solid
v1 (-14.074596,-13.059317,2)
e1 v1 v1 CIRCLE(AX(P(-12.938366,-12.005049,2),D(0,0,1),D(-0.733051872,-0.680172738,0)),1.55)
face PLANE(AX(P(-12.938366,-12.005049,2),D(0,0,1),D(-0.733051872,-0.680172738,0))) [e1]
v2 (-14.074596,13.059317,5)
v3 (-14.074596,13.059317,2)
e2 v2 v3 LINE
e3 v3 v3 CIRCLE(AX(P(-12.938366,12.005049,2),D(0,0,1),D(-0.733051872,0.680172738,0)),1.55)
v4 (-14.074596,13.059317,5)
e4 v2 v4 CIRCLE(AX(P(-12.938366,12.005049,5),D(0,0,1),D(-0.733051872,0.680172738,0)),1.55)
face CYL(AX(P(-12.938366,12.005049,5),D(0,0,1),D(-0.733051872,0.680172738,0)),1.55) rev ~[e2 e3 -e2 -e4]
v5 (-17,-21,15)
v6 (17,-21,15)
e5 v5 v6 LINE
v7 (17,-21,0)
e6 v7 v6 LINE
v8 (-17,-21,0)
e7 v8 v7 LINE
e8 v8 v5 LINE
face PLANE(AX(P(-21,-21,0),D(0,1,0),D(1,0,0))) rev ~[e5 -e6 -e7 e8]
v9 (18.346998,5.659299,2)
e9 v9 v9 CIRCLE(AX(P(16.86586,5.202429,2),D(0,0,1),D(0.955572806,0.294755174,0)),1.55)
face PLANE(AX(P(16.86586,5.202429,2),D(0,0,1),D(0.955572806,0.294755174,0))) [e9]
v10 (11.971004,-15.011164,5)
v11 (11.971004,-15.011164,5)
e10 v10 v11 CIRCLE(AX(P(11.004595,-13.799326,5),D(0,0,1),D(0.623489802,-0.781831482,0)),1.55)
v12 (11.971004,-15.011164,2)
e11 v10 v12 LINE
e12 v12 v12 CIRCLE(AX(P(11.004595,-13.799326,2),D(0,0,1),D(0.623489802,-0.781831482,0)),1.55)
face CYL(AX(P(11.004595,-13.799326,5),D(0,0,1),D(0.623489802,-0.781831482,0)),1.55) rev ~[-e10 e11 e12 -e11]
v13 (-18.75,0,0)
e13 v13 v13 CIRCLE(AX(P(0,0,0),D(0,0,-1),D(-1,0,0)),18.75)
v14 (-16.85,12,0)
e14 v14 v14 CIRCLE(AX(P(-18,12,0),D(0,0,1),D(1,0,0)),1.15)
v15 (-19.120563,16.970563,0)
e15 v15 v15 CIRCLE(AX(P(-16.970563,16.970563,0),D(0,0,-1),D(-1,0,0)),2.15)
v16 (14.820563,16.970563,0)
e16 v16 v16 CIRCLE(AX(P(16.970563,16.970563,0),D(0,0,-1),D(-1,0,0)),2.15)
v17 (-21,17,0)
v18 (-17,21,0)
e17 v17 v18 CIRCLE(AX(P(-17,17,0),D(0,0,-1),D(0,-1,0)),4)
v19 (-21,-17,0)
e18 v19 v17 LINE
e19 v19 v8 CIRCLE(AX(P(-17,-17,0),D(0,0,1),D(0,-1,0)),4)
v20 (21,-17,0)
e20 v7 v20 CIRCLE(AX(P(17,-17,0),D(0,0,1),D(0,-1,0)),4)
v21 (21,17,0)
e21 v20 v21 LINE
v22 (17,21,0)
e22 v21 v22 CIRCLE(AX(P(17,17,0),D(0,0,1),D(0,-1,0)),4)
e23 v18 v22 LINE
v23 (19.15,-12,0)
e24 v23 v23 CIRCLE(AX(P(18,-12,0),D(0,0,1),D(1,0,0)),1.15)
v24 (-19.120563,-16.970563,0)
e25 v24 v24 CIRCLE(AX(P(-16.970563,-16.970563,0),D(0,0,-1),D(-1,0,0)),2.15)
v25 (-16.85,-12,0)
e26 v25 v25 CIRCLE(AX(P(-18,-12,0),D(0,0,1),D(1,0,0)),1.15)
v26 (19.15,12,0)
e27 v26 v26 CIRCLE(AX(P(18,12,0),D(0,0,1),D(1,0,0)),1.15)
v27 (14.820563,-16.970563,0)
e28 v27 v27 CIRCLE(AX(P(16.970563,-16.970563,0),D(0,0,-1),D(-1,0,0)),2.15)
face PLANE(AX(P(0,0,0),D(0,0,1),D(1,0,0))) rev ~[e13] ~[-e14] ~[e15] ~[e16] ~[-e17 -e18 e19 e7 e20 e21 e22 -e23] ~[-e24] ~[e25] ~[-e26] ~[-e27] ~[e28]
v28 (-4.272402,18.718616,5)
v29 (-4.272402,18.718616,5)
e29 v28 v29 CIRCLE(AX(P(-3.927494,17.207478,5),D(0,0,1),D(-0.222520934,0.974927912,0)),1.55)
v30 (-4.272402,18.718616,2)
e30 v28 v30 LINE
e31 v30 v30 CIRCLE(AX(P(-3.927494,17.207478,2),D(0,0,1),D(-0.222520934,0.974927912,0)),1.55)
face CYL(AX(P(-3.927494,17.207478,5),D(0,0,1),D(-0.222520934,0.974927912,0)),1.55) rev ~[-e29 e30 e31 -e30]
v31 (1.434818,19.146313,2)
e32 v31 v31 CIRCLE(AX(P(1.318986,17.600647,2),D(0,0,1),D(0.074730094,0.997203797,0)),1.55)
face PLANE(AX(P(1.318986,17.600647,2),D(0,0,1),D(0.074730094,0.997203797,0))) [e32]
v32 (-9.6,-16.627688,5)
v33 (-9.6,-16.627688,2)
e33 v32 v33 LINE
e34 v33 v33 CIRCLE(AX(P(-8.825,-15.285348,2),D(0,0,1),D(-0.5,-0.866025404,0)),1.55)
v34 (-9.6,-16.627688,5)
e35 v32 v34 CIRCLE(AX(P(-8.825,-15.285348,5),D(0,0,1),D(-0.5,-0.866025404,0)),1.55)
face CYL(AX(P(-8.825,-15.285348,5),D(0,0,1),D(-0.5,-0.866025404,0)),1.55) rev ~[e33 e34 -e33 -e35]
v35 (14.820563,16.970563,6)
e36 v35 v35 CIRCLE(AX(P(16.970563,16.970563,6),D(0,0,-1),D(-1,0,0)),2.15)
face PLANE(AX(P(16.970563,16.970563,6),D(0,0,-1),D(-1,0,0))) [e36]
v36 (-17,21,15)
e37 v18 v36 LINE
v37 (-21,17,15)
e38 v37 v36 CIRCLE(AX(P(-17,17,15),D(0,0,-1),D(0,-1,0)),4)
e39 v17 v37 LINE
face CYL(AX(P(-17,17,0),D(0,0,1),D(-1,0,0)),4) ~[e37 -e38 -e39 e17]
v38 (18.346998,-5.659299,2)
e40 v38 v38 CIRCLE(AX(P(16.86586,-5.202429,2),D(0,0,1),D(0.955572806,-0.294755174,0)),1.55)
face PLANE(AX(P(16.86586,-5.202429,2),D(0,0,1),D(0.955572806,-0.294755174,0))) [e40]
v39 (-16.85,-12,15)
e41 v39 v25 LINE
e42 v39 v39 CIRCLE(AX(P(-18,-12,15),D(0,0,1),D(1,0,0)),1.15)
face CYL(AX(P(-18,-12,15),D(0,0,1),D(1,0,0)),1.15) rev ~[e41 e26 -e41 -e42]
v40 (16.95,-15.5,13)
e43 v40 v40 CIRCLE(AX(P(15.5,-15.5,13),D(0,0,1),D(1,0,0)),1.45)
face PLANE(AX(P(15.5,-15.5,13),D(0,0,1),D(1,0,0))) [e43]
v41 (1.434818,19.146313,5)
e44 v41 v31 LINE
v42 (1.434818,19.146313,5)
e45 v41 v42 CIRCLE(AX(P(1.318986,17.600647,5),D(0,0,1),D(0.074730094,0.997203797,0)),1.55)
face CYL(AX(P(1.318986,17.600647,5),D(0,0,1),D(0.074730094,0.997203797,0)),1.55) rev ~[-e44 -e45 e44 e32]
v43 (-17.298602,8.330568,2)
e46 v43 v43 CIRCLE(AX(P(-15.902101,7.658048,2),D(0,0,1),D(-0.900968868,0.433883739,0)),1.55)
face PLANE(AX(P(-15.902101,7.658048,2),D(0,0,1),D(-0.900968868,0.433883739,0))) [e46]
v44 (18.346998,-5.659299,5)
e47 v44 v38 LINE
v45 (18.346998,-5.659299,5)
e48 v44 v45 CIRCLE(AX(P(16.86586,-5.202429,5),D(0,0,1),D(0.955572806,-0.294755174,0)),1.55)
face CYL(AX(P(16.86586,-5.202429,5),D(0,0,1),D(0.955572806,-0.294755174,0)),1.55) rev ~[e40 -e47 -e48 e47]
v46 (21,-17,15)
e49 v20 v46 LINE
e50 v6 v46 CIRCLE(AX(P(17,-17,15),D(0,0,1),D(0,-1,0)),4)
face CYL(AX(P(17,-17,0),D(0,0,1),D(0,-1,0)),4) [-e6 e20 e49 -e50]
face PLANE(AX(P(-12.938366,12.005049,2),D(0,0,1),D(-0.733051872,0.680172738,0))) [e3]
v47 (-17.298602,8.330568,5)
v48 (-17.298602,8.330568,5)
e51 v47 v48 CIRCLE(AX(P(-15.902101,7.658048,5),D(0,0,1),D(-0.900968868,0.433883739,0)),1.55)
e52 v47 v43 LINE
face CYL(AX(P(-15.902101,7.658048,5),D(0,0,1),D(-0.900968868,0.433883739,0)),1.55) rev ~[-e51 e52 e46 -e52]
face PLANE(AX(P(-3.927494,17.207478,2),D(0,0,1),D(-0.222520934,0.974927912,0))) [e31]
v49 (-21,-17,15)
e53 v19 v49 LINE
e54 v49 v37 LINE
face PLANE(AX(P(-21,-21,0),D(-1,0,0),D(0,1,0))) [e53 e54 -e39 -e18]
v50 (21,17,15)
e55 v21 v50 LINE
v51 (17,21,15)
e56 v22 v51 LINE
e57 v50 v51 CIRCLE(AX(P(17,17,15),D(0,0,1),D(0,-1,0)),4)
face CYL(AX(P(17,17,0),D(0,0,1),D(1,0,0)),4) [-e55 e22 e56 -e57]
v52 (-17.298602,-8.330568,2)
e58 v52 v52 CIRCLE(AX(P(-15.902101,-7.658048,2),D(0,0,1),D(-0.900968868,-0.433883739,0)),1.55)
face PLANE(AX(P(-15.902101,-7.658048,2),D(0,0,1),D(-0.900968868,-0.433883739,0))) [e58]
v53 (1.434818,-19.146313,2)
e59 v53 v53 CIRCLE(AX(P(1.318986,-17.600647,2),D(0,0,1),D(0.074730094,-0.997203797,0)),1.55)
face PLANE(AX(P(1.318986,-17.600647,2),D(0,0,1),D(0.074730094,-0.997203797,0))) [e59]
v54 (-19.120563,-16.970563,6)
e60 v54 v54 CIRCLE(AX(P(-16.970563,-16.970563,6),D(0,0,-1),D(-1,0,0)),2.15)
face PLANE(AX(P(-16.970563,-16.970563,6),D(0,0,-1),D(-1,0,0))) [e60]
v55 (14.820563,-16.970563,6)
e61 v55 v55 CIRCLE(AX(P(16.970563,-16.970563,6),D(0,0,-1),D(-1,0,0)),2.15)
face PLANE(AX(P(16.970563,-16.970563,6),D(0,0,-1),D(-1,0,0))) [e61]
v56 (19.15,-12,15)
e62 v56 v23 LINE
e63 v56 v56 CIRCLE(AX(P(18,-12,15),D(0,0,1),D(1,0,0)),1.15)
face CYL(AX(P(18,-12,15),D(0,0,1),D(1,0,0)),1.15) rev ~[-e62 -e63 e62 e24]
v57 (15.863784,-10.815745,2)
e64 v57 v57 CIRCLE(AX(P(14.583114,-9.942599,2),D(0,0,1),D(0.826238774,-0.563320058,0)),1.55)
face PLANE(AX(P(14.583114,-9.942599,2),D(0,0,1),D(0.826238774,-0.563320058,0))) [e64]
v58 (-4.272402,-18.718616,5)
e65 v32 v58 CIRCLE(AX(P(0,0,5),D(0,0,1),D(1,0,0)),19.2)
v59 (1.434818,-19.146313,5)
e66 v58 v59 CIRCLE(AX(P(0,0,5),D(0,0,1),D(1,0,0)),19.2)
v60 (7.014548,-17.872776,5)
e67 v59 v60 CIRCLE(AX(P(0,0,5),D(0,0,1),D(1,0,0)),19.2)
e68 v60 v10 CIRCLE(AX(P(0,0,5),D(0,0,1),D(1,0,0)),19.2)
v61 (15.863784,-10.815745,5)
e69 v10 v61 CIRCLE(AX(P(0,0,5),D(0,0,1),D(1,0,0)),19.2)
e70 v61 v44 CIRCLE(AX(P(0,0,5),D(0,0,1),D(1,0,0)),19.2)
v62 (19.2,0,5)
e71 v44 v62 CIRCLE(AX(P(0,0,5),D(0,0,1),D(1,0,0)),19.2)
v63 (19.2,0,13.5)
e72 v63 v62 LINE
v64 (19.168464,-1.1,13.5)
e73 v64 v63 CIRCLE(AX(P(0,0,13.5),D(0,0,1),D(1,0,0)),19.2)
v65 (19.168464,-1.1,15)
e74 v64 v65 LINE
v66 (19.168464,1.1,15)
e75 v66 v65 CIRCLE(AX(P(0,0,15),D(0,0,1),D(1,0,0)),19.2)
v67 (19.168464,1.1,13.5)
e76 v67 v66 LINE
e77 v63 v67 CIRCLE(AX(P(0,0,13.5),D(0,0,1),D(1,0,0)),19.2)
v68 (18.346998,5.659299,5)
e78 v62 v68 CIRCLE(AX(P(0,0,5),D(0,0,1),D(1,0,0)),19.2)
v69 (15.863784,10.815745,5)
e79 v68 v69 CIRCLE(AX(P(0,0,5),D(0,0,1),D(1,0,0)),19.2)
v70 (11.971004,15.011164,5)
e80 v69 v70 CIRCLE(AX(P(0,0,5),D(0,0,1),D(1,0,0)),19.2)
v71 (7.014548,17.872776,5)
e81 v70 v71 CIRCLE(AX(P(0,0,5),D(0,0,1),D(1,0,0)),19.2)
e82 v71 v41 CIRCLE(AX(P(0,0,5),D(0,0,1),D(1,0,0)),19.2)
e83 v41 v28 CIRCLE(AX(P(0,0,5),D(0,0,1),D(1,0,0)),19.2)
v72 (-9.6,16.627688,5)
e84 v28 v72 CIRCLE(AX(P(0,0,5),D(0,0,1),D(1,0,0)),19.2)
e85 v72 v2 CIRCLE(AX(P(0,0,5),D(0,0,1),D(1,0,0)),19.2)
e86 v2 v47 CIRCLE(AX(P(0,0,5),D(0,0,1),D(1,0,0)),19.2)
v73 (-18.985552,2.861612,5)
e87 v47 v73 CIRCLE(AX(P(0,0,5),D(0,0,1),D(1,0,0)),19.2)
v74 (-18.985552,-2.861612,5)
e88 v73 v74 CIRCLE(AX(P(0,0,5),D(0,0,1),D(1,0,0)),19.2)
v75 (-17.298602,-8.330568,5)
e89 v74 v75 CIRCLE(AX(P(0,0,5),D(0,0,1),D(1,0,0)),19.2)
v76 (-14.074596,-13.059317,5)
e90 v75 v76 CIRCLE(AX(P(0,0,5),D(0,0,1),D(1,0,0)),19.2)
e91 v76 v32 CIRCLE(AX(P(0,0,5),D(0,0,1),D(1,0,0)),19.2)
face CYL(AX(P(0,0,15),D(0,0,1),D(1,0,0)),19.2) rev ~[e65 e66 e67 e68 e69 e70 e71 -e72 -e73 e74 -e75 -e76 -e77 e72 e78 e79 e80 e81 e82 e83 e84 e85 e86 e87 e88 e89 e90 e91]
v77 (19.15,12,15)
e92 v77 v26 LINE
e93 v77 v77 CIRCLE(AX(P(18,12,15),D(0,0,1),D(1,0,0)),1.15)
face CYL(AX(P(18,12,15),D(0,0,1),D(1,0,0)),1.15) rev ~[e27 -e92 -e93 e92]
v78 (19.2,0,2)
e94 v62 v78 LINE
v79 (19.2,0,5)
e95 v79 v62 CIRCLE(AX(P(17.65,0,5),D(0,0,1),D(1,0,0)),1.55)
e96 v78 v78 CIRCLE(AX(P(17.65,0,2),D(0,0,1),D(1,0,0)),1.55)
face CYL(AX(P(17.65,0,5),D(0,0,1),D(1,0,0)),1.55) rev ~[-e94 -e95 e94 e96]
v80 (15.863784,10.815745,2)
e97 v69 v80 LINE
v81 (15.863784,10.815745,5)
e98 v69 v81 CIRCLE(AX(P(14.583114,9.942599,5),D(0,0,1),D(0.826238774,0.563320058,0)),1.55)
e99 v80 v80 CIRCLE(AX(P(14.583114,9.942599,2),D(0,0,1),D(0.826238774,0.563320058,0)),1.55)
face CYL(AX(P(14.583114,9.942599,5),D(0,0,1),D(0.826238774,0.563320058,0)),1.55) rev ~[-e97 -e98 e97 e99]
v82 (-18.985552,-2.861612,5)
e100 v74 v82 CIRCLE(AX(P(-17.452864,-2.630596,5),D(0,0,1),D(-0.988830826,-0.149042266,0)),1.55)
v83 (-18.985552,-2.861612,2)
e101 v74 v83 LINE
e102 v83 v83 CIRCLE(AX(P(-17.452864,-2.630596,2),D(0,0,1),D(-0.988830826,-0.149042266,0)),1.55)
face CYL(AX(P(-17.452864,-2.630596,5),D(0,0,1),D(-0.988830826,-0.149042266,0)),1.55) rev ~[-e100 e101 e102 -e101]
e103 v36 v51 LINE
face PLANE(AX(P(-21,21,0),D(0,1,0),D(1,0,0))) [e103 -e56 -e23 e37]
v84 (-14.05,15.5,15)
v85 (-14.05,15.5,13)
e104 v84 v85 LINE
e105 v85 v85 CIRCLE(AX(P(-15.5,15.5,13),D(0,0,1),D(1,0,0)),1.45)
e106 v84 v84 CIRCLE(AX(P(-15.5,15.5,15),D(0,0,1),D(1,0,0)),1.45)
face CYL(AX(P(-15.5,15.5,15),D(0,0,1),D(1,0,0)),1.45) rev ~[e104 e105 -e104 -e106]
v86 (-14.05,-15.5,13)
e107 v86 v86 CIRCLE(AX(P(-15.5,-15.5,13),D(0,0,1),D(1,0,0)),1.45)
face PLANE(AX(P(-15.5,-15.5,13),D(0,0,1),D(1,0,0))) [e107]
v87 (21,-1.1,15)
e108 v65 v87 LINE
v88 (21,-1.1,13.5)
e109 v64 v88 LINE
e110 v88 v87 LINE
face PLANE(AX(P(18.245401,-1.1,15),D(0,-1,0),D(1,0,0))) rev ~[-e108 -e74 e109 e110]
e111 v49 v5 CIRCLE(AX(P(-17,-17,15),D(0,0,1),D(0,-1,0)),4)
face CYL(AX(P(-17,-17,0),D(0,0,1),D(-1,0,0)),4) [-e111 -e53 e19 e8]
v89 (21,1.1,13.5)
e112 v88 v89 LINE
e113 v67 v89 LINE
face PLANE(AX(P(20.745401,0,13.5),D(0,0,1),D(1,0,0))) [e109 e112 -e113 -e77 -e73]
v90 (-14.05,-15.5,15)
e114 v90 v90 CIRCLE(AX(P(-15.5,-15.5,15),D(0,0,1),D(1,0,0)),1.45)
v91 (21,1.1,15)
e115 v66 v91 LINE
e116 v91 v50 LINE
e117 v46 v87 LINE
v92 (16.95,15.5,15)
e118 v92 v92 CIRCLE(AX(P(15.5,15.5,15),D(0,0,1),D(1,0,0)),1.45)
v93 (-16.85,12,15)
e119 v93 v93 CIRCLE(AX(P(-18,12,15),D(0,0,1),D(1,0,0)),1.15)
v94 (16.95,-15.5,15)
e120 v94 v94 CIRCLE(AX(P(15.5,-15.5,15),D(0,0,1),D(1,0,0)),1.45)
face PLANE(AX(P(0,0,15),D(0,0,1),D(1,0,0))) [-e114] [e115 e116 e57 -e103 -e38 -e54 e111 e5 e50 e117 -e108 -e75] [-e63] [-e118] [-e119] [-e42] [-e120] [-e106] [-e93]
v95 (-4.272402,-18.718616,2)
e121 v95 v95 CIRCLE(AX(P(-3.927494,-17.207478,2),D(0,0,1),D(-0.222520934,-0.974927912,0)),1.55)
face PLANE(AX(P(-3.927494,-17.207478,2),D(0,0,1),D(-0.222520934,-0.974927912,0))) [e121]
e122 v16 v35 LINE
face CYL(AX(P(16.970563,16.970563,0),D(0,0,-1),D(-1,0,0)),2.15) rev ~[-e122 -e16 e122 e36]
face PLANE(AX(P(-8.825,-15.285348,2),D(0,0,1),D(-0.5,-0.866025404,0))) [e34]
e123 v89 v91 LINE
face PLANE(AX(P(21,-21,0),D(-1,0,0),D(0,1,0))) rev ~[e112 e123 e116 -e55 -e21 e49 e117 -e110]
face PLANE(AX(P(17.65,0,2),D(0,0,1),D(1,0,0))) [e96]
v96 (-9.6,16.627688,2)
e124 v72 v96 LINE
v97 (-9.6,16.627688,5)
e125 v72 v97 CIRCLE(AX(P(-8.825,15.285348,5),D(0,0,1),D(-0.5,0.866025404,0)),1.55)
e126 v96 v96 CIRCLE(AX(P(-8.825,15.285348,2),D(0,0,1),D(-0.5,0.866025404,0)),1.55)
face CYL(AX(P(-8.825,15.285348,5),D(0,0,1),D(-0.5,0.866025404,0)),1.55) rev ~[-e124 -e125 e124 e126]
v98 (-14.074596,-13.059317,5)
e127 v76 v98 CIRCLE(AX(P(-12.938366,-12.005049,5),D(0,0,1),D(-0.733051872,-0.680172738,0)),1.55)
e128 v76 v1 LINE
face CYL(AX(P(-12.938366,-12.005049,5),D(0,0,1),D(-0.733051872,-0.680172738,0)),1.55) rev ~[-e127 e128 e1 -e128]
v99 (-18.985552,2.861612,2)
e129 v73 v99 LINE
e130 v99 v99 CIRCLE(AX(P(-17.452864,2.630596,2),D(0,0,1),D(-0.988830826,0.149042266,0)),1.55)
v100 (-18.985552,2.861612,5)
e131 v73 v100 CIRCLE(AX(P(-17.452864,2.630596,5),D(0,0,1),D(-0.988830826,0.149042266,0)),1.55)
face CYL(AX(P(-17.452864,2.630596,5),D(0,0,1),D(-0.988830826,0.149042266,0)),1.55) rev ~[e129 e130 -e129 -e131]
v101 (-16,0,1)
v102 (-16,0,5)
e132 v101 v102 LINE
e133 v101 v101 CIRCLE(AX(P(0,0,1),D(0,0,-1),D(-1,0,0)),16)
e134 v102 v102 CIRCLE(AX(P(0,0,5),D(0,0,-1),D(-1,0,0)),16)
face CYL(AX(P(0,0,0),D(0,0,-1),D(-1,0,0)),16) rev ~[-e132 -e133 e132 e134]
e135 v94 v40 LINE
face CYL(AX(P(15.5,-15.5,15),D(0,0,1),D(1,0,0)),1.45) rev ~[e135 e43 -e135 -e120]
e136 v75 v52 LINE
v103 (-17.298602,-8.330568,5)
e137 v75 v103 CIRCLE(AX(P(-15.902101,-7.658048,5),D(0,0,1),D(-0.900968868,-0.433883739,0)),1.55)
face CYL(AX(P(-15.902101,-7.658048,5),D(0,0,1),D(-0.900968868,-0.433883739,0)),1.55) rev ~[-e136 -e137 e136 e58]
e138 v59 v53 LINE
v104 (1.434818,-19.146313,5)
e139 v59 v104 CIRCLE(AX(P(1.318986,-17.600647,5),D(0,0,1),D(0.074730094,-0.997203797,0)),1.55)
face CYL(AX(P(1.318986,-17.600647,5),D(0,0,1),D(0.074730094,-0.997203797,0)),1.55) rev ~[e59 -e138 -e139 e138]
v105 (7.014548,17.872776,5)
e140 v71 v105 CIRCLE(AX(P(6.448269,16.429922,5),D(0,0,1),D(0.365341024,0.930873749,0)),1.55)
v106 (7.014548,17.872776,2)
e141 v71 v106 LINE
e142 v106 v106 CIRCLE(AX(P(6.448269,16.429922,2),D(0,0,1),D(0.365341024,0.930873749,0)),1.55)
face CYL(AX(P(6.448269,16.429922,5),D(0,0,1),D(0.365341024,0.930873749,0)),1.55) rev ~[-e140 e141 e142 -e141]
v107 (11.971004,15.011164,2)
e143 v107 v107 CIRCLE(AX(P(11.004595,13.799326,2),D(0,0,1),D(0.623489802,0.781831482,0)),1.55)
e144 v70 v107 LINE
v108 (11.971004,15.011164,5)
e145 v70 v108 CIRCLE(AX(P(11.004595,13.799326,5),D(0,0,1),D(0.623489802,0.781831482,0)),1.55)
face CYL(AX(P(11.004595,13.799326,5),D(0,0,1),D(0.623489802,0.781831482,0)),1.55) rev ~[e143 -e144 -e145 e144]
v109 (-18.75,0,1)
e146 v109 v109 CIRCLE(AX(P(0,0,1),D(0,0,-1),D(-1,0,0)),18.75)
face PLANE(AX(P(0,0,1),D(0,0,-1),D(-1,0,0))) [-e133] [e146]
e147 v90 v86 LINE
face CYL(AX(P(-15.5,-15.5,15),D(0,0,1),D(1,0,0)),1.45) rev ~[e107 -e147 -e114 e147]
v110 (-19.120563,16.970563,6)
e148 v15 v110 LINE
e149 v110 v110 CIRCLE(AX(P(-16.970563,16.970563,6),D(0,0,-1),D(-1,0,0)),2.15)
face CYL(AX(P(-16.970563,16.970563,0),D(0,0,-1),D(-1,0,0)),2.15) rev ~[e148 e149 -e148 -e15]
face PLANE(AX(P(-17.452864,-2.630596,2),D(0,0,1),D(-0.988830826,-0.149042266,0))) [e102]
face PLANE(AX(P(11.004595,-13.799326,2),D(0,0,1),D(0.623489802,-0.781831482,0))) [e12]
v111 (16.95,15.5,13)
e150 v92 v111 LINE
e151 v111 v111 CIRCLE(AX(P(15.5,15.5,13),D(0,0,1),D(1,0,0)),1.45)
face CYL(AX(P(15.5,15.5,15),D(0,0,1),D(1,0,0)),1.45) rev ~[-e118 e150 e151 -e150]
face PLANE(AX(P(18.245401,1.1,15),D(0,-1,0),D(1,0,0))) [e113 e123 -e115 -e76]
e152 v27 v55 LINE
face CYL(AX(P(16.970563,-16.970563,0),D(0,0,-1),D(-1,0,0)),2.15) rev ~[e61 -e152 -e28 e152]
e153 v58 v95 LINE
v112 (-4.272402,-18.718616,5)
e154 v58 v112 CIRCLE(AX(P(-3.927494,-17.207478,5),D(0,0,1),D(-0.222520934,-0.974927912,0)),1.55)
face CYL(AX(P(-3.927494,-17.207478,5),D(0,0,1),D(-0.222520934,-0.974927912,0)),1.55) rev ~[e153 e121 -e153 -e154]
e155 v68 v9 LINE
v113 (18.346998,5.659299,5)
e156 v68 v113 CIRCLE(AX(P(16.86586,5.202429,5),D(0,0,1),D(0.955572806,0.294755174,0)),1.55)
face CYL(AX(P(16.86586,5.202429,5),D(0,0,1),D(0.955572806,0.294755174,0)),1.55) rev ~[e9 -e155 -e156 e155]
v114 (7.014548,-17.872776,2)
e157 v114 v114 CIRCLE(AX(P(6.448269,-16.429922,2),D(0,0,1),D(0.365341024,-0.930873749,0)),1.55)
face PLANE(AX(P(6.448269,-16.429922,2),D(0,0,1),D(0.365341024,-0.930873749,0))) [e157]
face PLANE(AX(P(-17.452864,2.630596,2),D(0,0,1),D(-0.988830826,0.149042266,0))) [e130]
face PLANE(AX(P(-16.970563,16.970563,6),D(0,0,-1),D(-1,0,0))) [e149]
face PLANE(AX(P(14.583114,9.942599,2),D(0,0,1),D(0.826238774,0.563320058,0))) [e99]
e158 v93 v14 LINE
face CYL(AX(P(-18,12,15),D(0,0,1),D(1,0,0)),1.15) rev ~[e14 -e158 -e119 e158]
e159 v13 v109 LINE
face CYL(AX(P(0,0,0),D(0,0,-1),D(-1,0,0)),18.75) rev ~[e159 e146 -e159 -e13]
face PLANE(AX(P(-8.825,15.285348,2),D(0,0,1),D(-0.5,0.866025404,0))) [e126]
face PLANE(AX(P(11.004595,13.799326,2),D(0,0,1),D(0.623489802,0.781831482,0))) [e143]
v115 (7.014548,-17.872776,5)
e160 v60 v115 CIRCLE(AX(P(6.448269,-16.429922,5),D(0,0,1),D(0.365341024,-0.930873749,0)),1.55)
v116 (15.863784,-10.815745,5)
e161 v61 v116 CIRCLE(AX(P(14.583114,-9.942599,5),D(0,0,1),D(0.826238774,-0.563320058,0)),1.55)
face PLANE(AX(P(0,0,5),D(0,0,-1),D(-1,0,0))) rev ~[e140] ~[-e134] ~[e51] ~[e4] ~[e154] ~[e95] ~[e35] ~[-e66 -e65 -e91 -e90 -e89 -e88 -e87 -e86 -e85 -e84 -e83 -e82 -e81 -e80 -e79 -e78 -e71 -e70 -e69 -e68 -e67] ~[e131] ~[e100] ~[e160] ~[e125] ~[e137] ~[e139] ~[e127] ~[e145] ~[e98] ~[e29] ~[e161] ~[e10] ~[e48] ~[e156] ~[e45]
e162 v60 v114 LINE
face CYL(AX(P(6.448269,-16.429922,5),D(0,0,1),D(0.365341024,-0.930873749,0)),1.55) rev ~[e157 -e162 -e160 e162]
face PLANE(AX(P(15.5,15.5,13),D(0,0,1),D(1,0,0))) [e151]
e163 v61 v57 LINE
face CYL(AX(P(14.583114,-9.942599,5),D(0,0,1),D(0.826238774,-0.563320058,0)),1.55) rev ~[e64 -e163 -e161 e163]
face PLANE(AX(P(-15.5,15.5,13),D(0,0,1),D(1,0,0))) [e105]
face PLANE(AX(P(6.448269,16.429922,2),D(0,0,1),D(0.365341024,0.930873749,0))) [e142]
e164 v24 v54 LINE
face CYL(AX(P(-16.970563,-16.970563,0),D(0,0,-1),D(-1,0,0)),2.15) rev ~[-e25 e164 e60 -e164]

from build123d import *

# Parameters (mm, degrees)
SKETCH_1_W               = 42
SKETCH_1_H               = 42
EXTRUDE_1_DEPTH          = 15
FILLET_2_R               = 4
SKETCH_25_R              = 1.15
CUT_EXTRUDE_16_DEPTH     = 16
SKETCH_28_R              = 1.45
CUT_EXTRUDE_17_DEPTH     = 2
SKETCH_29_R              = 2.15
CUT_EXTRUDE_18_DEPTH     = 6
SKETCH_30_R              = 19.2
CUT_EXTRUDE_19_DEPTH     = 16
SKETCH_31_R              = 19.35
SKETCH_31_R_2            = 16
EXTRUDE_2_DEPTH          = 5
SKETCH_32_R              = 1.55
CUT_EXTRUDE_22_DEPTH     = 3
PATTERN_CIRCULAR_1_COUNT = 21
SKETCH_33_R              = 18.75
CUT_EXTRUDE_23_DEPTH     = 1
SKETCH_34_W              = 5
SKETCH_34_H              = 2.2
CUT_EXTRUDE_24_DEPTH     = 1.5


with BuildPart() as part:
    # 草图1 → 凸台-拉伸1 (new body)
    with BuildSketch(Plane.XY):
        Rectangle(SKETCH_1_W, SKETCH_1_H)
    extrude(amount=EXTRUDE_1_DEPTH)

    # 圆角2
    fillet_2_edges = [part.edges().sort_by_distance(p)[0] for p in [
        (21, 21, 7.5),
        (21, -21, 7.5),
        (-21, -21, 7.5),
        (-21, 21, 7.5),
    ]]
    fillet(fillet_2_edges, radius=FILLET_2_R)

    # 草图25 → 切除-拉伸16 (cut, through all)
    with BuildSketch(Plane.XY.offset(15)):
        with Locations((-18, 12)):
            Circle(SKETCH_25_R)
        with Locations((18, 12)):
            Circle(SKETCH_25_R)
        with Locations((18, -12)):
            Circle(SKETCH_25_R)
        with Locations((-18, -12)):
            Circle(SKETCH_25_R)
    extrude(amount=-CUT_EXTRUDE_16_DEPTH, mode=Mode.SUBTRACT)

    # 草图28 → 切除-拉伸17 (cut)
    with BuildSketch(Plane.XY.offset(15)):
        with Locations((-15.5, 15.5)):
            Circle(SKETCH_28_R)
        with Locations((15.5, 15.5)):
            Circle(SKETCH_28_R)
        with Locations((15.5, -15.5)):
            Circle(SKETCH_28_R)
        with Locations((-15.5, -15.5)):
            Circle(SKETCH_28_R)
    extrude(amount=-CUT_EXTRUDE_17_DEPTH, mode=Mode.SUBTRACT)

    # 草图29 → 切除-拉伸18 (cut)
    with BuildSketch(Plane(origin=(0, 0, 0), x_dir=(-1, 0, 0), z_dir=(0, 0, -1))):
        with Locations((-16.970562748, 16.970562748)):
            Circle(SKETCH_29_R)
        with Locations((16.970562748, 16.970562748)):
            Circle(SKETCH_29_R)
        with Locations((16.970562748, -16.970562748)):
            Circle(SKETCH_29_R)
        with Locations((-16.970562748, -16.970562748)):
            Circle(SKETCH_29_R)
    extrude(amount=-CUT_EXTRUDE_18_DEPTH, mode=Mode.SUBTRACT)

    # 草图30 → 切除-拉伸19 (cut, through all)
    with BuildSketch(Plane.XY.offset(15)):
        Circle(SKETCH_30_R)
    extrude(amount=-CUT_EXTRUDE_19_DEPTH, mode=Mode.SUBTRACT)

    # 草图31 → 凸台-拉伸2 (add)
    with BuildSketch(Plane(origin=(0, 0, 0), x_dir=(-1, 0, 0), z_dir=(0, 0, -1))):
        Circle(SKETCH_31_R)
        Circle(SKETCH_31_R_2, mode=Mode.SUBTRACT)
    extrude(amount=-EXTRUDE_2_DEPTH)

    # 草图32 → 切除-拉伸22 (cut)
    with BuildSketch(Plane.XY.offset(5)):
        with Locations((17.65, 0)):
            Circle(SKETCH_32_R)
    cut_extrude_22 = extrude(amount=-CUT_EXTRUDE_22_DEPTH, mode=Mode.SUBTRACT)

    # 阵列(圆周)1: 切除-拉伸22 ×21 about axis
    pattern_circular_1_axis = Axis((0, 0, 0), (0, 0, 1))
    for i in range(1, PATTERN_CIRCULAR_1_COUNT):
        add(cut_extrude_22.rotate(pattern_circular_1_axis, i * 360 / PATTERN_CIRCULAR_1_COUNT), mode=Mode.SUBTRACT)

    # 草图33 → 切除-拉伸23 (cut)
    with BuildSketch(Plane(origin=(0, 0, 0), x_dir=(-1, 0, 0), z_dir=(0, 0, -1))):
        Circle(SKETCH_33_R)
    extrude(amount=-CUT_EXTRUDE_23_DEPTH, mode=Mode.SUBTRACT)

    # 草图34 → 切除-拉伸24 (cut)
    with BuildSketch(Plane.XY.offset(15)):
        with Locations((20.745401418, 0)):
            Rectangle(SKETCH_34_W, SKETCH_34_H)
    extrude(amount=-CUT_EXTRUDE_24_DEPTH, mode=Mode.SUBTRACT)


solid = part.part
